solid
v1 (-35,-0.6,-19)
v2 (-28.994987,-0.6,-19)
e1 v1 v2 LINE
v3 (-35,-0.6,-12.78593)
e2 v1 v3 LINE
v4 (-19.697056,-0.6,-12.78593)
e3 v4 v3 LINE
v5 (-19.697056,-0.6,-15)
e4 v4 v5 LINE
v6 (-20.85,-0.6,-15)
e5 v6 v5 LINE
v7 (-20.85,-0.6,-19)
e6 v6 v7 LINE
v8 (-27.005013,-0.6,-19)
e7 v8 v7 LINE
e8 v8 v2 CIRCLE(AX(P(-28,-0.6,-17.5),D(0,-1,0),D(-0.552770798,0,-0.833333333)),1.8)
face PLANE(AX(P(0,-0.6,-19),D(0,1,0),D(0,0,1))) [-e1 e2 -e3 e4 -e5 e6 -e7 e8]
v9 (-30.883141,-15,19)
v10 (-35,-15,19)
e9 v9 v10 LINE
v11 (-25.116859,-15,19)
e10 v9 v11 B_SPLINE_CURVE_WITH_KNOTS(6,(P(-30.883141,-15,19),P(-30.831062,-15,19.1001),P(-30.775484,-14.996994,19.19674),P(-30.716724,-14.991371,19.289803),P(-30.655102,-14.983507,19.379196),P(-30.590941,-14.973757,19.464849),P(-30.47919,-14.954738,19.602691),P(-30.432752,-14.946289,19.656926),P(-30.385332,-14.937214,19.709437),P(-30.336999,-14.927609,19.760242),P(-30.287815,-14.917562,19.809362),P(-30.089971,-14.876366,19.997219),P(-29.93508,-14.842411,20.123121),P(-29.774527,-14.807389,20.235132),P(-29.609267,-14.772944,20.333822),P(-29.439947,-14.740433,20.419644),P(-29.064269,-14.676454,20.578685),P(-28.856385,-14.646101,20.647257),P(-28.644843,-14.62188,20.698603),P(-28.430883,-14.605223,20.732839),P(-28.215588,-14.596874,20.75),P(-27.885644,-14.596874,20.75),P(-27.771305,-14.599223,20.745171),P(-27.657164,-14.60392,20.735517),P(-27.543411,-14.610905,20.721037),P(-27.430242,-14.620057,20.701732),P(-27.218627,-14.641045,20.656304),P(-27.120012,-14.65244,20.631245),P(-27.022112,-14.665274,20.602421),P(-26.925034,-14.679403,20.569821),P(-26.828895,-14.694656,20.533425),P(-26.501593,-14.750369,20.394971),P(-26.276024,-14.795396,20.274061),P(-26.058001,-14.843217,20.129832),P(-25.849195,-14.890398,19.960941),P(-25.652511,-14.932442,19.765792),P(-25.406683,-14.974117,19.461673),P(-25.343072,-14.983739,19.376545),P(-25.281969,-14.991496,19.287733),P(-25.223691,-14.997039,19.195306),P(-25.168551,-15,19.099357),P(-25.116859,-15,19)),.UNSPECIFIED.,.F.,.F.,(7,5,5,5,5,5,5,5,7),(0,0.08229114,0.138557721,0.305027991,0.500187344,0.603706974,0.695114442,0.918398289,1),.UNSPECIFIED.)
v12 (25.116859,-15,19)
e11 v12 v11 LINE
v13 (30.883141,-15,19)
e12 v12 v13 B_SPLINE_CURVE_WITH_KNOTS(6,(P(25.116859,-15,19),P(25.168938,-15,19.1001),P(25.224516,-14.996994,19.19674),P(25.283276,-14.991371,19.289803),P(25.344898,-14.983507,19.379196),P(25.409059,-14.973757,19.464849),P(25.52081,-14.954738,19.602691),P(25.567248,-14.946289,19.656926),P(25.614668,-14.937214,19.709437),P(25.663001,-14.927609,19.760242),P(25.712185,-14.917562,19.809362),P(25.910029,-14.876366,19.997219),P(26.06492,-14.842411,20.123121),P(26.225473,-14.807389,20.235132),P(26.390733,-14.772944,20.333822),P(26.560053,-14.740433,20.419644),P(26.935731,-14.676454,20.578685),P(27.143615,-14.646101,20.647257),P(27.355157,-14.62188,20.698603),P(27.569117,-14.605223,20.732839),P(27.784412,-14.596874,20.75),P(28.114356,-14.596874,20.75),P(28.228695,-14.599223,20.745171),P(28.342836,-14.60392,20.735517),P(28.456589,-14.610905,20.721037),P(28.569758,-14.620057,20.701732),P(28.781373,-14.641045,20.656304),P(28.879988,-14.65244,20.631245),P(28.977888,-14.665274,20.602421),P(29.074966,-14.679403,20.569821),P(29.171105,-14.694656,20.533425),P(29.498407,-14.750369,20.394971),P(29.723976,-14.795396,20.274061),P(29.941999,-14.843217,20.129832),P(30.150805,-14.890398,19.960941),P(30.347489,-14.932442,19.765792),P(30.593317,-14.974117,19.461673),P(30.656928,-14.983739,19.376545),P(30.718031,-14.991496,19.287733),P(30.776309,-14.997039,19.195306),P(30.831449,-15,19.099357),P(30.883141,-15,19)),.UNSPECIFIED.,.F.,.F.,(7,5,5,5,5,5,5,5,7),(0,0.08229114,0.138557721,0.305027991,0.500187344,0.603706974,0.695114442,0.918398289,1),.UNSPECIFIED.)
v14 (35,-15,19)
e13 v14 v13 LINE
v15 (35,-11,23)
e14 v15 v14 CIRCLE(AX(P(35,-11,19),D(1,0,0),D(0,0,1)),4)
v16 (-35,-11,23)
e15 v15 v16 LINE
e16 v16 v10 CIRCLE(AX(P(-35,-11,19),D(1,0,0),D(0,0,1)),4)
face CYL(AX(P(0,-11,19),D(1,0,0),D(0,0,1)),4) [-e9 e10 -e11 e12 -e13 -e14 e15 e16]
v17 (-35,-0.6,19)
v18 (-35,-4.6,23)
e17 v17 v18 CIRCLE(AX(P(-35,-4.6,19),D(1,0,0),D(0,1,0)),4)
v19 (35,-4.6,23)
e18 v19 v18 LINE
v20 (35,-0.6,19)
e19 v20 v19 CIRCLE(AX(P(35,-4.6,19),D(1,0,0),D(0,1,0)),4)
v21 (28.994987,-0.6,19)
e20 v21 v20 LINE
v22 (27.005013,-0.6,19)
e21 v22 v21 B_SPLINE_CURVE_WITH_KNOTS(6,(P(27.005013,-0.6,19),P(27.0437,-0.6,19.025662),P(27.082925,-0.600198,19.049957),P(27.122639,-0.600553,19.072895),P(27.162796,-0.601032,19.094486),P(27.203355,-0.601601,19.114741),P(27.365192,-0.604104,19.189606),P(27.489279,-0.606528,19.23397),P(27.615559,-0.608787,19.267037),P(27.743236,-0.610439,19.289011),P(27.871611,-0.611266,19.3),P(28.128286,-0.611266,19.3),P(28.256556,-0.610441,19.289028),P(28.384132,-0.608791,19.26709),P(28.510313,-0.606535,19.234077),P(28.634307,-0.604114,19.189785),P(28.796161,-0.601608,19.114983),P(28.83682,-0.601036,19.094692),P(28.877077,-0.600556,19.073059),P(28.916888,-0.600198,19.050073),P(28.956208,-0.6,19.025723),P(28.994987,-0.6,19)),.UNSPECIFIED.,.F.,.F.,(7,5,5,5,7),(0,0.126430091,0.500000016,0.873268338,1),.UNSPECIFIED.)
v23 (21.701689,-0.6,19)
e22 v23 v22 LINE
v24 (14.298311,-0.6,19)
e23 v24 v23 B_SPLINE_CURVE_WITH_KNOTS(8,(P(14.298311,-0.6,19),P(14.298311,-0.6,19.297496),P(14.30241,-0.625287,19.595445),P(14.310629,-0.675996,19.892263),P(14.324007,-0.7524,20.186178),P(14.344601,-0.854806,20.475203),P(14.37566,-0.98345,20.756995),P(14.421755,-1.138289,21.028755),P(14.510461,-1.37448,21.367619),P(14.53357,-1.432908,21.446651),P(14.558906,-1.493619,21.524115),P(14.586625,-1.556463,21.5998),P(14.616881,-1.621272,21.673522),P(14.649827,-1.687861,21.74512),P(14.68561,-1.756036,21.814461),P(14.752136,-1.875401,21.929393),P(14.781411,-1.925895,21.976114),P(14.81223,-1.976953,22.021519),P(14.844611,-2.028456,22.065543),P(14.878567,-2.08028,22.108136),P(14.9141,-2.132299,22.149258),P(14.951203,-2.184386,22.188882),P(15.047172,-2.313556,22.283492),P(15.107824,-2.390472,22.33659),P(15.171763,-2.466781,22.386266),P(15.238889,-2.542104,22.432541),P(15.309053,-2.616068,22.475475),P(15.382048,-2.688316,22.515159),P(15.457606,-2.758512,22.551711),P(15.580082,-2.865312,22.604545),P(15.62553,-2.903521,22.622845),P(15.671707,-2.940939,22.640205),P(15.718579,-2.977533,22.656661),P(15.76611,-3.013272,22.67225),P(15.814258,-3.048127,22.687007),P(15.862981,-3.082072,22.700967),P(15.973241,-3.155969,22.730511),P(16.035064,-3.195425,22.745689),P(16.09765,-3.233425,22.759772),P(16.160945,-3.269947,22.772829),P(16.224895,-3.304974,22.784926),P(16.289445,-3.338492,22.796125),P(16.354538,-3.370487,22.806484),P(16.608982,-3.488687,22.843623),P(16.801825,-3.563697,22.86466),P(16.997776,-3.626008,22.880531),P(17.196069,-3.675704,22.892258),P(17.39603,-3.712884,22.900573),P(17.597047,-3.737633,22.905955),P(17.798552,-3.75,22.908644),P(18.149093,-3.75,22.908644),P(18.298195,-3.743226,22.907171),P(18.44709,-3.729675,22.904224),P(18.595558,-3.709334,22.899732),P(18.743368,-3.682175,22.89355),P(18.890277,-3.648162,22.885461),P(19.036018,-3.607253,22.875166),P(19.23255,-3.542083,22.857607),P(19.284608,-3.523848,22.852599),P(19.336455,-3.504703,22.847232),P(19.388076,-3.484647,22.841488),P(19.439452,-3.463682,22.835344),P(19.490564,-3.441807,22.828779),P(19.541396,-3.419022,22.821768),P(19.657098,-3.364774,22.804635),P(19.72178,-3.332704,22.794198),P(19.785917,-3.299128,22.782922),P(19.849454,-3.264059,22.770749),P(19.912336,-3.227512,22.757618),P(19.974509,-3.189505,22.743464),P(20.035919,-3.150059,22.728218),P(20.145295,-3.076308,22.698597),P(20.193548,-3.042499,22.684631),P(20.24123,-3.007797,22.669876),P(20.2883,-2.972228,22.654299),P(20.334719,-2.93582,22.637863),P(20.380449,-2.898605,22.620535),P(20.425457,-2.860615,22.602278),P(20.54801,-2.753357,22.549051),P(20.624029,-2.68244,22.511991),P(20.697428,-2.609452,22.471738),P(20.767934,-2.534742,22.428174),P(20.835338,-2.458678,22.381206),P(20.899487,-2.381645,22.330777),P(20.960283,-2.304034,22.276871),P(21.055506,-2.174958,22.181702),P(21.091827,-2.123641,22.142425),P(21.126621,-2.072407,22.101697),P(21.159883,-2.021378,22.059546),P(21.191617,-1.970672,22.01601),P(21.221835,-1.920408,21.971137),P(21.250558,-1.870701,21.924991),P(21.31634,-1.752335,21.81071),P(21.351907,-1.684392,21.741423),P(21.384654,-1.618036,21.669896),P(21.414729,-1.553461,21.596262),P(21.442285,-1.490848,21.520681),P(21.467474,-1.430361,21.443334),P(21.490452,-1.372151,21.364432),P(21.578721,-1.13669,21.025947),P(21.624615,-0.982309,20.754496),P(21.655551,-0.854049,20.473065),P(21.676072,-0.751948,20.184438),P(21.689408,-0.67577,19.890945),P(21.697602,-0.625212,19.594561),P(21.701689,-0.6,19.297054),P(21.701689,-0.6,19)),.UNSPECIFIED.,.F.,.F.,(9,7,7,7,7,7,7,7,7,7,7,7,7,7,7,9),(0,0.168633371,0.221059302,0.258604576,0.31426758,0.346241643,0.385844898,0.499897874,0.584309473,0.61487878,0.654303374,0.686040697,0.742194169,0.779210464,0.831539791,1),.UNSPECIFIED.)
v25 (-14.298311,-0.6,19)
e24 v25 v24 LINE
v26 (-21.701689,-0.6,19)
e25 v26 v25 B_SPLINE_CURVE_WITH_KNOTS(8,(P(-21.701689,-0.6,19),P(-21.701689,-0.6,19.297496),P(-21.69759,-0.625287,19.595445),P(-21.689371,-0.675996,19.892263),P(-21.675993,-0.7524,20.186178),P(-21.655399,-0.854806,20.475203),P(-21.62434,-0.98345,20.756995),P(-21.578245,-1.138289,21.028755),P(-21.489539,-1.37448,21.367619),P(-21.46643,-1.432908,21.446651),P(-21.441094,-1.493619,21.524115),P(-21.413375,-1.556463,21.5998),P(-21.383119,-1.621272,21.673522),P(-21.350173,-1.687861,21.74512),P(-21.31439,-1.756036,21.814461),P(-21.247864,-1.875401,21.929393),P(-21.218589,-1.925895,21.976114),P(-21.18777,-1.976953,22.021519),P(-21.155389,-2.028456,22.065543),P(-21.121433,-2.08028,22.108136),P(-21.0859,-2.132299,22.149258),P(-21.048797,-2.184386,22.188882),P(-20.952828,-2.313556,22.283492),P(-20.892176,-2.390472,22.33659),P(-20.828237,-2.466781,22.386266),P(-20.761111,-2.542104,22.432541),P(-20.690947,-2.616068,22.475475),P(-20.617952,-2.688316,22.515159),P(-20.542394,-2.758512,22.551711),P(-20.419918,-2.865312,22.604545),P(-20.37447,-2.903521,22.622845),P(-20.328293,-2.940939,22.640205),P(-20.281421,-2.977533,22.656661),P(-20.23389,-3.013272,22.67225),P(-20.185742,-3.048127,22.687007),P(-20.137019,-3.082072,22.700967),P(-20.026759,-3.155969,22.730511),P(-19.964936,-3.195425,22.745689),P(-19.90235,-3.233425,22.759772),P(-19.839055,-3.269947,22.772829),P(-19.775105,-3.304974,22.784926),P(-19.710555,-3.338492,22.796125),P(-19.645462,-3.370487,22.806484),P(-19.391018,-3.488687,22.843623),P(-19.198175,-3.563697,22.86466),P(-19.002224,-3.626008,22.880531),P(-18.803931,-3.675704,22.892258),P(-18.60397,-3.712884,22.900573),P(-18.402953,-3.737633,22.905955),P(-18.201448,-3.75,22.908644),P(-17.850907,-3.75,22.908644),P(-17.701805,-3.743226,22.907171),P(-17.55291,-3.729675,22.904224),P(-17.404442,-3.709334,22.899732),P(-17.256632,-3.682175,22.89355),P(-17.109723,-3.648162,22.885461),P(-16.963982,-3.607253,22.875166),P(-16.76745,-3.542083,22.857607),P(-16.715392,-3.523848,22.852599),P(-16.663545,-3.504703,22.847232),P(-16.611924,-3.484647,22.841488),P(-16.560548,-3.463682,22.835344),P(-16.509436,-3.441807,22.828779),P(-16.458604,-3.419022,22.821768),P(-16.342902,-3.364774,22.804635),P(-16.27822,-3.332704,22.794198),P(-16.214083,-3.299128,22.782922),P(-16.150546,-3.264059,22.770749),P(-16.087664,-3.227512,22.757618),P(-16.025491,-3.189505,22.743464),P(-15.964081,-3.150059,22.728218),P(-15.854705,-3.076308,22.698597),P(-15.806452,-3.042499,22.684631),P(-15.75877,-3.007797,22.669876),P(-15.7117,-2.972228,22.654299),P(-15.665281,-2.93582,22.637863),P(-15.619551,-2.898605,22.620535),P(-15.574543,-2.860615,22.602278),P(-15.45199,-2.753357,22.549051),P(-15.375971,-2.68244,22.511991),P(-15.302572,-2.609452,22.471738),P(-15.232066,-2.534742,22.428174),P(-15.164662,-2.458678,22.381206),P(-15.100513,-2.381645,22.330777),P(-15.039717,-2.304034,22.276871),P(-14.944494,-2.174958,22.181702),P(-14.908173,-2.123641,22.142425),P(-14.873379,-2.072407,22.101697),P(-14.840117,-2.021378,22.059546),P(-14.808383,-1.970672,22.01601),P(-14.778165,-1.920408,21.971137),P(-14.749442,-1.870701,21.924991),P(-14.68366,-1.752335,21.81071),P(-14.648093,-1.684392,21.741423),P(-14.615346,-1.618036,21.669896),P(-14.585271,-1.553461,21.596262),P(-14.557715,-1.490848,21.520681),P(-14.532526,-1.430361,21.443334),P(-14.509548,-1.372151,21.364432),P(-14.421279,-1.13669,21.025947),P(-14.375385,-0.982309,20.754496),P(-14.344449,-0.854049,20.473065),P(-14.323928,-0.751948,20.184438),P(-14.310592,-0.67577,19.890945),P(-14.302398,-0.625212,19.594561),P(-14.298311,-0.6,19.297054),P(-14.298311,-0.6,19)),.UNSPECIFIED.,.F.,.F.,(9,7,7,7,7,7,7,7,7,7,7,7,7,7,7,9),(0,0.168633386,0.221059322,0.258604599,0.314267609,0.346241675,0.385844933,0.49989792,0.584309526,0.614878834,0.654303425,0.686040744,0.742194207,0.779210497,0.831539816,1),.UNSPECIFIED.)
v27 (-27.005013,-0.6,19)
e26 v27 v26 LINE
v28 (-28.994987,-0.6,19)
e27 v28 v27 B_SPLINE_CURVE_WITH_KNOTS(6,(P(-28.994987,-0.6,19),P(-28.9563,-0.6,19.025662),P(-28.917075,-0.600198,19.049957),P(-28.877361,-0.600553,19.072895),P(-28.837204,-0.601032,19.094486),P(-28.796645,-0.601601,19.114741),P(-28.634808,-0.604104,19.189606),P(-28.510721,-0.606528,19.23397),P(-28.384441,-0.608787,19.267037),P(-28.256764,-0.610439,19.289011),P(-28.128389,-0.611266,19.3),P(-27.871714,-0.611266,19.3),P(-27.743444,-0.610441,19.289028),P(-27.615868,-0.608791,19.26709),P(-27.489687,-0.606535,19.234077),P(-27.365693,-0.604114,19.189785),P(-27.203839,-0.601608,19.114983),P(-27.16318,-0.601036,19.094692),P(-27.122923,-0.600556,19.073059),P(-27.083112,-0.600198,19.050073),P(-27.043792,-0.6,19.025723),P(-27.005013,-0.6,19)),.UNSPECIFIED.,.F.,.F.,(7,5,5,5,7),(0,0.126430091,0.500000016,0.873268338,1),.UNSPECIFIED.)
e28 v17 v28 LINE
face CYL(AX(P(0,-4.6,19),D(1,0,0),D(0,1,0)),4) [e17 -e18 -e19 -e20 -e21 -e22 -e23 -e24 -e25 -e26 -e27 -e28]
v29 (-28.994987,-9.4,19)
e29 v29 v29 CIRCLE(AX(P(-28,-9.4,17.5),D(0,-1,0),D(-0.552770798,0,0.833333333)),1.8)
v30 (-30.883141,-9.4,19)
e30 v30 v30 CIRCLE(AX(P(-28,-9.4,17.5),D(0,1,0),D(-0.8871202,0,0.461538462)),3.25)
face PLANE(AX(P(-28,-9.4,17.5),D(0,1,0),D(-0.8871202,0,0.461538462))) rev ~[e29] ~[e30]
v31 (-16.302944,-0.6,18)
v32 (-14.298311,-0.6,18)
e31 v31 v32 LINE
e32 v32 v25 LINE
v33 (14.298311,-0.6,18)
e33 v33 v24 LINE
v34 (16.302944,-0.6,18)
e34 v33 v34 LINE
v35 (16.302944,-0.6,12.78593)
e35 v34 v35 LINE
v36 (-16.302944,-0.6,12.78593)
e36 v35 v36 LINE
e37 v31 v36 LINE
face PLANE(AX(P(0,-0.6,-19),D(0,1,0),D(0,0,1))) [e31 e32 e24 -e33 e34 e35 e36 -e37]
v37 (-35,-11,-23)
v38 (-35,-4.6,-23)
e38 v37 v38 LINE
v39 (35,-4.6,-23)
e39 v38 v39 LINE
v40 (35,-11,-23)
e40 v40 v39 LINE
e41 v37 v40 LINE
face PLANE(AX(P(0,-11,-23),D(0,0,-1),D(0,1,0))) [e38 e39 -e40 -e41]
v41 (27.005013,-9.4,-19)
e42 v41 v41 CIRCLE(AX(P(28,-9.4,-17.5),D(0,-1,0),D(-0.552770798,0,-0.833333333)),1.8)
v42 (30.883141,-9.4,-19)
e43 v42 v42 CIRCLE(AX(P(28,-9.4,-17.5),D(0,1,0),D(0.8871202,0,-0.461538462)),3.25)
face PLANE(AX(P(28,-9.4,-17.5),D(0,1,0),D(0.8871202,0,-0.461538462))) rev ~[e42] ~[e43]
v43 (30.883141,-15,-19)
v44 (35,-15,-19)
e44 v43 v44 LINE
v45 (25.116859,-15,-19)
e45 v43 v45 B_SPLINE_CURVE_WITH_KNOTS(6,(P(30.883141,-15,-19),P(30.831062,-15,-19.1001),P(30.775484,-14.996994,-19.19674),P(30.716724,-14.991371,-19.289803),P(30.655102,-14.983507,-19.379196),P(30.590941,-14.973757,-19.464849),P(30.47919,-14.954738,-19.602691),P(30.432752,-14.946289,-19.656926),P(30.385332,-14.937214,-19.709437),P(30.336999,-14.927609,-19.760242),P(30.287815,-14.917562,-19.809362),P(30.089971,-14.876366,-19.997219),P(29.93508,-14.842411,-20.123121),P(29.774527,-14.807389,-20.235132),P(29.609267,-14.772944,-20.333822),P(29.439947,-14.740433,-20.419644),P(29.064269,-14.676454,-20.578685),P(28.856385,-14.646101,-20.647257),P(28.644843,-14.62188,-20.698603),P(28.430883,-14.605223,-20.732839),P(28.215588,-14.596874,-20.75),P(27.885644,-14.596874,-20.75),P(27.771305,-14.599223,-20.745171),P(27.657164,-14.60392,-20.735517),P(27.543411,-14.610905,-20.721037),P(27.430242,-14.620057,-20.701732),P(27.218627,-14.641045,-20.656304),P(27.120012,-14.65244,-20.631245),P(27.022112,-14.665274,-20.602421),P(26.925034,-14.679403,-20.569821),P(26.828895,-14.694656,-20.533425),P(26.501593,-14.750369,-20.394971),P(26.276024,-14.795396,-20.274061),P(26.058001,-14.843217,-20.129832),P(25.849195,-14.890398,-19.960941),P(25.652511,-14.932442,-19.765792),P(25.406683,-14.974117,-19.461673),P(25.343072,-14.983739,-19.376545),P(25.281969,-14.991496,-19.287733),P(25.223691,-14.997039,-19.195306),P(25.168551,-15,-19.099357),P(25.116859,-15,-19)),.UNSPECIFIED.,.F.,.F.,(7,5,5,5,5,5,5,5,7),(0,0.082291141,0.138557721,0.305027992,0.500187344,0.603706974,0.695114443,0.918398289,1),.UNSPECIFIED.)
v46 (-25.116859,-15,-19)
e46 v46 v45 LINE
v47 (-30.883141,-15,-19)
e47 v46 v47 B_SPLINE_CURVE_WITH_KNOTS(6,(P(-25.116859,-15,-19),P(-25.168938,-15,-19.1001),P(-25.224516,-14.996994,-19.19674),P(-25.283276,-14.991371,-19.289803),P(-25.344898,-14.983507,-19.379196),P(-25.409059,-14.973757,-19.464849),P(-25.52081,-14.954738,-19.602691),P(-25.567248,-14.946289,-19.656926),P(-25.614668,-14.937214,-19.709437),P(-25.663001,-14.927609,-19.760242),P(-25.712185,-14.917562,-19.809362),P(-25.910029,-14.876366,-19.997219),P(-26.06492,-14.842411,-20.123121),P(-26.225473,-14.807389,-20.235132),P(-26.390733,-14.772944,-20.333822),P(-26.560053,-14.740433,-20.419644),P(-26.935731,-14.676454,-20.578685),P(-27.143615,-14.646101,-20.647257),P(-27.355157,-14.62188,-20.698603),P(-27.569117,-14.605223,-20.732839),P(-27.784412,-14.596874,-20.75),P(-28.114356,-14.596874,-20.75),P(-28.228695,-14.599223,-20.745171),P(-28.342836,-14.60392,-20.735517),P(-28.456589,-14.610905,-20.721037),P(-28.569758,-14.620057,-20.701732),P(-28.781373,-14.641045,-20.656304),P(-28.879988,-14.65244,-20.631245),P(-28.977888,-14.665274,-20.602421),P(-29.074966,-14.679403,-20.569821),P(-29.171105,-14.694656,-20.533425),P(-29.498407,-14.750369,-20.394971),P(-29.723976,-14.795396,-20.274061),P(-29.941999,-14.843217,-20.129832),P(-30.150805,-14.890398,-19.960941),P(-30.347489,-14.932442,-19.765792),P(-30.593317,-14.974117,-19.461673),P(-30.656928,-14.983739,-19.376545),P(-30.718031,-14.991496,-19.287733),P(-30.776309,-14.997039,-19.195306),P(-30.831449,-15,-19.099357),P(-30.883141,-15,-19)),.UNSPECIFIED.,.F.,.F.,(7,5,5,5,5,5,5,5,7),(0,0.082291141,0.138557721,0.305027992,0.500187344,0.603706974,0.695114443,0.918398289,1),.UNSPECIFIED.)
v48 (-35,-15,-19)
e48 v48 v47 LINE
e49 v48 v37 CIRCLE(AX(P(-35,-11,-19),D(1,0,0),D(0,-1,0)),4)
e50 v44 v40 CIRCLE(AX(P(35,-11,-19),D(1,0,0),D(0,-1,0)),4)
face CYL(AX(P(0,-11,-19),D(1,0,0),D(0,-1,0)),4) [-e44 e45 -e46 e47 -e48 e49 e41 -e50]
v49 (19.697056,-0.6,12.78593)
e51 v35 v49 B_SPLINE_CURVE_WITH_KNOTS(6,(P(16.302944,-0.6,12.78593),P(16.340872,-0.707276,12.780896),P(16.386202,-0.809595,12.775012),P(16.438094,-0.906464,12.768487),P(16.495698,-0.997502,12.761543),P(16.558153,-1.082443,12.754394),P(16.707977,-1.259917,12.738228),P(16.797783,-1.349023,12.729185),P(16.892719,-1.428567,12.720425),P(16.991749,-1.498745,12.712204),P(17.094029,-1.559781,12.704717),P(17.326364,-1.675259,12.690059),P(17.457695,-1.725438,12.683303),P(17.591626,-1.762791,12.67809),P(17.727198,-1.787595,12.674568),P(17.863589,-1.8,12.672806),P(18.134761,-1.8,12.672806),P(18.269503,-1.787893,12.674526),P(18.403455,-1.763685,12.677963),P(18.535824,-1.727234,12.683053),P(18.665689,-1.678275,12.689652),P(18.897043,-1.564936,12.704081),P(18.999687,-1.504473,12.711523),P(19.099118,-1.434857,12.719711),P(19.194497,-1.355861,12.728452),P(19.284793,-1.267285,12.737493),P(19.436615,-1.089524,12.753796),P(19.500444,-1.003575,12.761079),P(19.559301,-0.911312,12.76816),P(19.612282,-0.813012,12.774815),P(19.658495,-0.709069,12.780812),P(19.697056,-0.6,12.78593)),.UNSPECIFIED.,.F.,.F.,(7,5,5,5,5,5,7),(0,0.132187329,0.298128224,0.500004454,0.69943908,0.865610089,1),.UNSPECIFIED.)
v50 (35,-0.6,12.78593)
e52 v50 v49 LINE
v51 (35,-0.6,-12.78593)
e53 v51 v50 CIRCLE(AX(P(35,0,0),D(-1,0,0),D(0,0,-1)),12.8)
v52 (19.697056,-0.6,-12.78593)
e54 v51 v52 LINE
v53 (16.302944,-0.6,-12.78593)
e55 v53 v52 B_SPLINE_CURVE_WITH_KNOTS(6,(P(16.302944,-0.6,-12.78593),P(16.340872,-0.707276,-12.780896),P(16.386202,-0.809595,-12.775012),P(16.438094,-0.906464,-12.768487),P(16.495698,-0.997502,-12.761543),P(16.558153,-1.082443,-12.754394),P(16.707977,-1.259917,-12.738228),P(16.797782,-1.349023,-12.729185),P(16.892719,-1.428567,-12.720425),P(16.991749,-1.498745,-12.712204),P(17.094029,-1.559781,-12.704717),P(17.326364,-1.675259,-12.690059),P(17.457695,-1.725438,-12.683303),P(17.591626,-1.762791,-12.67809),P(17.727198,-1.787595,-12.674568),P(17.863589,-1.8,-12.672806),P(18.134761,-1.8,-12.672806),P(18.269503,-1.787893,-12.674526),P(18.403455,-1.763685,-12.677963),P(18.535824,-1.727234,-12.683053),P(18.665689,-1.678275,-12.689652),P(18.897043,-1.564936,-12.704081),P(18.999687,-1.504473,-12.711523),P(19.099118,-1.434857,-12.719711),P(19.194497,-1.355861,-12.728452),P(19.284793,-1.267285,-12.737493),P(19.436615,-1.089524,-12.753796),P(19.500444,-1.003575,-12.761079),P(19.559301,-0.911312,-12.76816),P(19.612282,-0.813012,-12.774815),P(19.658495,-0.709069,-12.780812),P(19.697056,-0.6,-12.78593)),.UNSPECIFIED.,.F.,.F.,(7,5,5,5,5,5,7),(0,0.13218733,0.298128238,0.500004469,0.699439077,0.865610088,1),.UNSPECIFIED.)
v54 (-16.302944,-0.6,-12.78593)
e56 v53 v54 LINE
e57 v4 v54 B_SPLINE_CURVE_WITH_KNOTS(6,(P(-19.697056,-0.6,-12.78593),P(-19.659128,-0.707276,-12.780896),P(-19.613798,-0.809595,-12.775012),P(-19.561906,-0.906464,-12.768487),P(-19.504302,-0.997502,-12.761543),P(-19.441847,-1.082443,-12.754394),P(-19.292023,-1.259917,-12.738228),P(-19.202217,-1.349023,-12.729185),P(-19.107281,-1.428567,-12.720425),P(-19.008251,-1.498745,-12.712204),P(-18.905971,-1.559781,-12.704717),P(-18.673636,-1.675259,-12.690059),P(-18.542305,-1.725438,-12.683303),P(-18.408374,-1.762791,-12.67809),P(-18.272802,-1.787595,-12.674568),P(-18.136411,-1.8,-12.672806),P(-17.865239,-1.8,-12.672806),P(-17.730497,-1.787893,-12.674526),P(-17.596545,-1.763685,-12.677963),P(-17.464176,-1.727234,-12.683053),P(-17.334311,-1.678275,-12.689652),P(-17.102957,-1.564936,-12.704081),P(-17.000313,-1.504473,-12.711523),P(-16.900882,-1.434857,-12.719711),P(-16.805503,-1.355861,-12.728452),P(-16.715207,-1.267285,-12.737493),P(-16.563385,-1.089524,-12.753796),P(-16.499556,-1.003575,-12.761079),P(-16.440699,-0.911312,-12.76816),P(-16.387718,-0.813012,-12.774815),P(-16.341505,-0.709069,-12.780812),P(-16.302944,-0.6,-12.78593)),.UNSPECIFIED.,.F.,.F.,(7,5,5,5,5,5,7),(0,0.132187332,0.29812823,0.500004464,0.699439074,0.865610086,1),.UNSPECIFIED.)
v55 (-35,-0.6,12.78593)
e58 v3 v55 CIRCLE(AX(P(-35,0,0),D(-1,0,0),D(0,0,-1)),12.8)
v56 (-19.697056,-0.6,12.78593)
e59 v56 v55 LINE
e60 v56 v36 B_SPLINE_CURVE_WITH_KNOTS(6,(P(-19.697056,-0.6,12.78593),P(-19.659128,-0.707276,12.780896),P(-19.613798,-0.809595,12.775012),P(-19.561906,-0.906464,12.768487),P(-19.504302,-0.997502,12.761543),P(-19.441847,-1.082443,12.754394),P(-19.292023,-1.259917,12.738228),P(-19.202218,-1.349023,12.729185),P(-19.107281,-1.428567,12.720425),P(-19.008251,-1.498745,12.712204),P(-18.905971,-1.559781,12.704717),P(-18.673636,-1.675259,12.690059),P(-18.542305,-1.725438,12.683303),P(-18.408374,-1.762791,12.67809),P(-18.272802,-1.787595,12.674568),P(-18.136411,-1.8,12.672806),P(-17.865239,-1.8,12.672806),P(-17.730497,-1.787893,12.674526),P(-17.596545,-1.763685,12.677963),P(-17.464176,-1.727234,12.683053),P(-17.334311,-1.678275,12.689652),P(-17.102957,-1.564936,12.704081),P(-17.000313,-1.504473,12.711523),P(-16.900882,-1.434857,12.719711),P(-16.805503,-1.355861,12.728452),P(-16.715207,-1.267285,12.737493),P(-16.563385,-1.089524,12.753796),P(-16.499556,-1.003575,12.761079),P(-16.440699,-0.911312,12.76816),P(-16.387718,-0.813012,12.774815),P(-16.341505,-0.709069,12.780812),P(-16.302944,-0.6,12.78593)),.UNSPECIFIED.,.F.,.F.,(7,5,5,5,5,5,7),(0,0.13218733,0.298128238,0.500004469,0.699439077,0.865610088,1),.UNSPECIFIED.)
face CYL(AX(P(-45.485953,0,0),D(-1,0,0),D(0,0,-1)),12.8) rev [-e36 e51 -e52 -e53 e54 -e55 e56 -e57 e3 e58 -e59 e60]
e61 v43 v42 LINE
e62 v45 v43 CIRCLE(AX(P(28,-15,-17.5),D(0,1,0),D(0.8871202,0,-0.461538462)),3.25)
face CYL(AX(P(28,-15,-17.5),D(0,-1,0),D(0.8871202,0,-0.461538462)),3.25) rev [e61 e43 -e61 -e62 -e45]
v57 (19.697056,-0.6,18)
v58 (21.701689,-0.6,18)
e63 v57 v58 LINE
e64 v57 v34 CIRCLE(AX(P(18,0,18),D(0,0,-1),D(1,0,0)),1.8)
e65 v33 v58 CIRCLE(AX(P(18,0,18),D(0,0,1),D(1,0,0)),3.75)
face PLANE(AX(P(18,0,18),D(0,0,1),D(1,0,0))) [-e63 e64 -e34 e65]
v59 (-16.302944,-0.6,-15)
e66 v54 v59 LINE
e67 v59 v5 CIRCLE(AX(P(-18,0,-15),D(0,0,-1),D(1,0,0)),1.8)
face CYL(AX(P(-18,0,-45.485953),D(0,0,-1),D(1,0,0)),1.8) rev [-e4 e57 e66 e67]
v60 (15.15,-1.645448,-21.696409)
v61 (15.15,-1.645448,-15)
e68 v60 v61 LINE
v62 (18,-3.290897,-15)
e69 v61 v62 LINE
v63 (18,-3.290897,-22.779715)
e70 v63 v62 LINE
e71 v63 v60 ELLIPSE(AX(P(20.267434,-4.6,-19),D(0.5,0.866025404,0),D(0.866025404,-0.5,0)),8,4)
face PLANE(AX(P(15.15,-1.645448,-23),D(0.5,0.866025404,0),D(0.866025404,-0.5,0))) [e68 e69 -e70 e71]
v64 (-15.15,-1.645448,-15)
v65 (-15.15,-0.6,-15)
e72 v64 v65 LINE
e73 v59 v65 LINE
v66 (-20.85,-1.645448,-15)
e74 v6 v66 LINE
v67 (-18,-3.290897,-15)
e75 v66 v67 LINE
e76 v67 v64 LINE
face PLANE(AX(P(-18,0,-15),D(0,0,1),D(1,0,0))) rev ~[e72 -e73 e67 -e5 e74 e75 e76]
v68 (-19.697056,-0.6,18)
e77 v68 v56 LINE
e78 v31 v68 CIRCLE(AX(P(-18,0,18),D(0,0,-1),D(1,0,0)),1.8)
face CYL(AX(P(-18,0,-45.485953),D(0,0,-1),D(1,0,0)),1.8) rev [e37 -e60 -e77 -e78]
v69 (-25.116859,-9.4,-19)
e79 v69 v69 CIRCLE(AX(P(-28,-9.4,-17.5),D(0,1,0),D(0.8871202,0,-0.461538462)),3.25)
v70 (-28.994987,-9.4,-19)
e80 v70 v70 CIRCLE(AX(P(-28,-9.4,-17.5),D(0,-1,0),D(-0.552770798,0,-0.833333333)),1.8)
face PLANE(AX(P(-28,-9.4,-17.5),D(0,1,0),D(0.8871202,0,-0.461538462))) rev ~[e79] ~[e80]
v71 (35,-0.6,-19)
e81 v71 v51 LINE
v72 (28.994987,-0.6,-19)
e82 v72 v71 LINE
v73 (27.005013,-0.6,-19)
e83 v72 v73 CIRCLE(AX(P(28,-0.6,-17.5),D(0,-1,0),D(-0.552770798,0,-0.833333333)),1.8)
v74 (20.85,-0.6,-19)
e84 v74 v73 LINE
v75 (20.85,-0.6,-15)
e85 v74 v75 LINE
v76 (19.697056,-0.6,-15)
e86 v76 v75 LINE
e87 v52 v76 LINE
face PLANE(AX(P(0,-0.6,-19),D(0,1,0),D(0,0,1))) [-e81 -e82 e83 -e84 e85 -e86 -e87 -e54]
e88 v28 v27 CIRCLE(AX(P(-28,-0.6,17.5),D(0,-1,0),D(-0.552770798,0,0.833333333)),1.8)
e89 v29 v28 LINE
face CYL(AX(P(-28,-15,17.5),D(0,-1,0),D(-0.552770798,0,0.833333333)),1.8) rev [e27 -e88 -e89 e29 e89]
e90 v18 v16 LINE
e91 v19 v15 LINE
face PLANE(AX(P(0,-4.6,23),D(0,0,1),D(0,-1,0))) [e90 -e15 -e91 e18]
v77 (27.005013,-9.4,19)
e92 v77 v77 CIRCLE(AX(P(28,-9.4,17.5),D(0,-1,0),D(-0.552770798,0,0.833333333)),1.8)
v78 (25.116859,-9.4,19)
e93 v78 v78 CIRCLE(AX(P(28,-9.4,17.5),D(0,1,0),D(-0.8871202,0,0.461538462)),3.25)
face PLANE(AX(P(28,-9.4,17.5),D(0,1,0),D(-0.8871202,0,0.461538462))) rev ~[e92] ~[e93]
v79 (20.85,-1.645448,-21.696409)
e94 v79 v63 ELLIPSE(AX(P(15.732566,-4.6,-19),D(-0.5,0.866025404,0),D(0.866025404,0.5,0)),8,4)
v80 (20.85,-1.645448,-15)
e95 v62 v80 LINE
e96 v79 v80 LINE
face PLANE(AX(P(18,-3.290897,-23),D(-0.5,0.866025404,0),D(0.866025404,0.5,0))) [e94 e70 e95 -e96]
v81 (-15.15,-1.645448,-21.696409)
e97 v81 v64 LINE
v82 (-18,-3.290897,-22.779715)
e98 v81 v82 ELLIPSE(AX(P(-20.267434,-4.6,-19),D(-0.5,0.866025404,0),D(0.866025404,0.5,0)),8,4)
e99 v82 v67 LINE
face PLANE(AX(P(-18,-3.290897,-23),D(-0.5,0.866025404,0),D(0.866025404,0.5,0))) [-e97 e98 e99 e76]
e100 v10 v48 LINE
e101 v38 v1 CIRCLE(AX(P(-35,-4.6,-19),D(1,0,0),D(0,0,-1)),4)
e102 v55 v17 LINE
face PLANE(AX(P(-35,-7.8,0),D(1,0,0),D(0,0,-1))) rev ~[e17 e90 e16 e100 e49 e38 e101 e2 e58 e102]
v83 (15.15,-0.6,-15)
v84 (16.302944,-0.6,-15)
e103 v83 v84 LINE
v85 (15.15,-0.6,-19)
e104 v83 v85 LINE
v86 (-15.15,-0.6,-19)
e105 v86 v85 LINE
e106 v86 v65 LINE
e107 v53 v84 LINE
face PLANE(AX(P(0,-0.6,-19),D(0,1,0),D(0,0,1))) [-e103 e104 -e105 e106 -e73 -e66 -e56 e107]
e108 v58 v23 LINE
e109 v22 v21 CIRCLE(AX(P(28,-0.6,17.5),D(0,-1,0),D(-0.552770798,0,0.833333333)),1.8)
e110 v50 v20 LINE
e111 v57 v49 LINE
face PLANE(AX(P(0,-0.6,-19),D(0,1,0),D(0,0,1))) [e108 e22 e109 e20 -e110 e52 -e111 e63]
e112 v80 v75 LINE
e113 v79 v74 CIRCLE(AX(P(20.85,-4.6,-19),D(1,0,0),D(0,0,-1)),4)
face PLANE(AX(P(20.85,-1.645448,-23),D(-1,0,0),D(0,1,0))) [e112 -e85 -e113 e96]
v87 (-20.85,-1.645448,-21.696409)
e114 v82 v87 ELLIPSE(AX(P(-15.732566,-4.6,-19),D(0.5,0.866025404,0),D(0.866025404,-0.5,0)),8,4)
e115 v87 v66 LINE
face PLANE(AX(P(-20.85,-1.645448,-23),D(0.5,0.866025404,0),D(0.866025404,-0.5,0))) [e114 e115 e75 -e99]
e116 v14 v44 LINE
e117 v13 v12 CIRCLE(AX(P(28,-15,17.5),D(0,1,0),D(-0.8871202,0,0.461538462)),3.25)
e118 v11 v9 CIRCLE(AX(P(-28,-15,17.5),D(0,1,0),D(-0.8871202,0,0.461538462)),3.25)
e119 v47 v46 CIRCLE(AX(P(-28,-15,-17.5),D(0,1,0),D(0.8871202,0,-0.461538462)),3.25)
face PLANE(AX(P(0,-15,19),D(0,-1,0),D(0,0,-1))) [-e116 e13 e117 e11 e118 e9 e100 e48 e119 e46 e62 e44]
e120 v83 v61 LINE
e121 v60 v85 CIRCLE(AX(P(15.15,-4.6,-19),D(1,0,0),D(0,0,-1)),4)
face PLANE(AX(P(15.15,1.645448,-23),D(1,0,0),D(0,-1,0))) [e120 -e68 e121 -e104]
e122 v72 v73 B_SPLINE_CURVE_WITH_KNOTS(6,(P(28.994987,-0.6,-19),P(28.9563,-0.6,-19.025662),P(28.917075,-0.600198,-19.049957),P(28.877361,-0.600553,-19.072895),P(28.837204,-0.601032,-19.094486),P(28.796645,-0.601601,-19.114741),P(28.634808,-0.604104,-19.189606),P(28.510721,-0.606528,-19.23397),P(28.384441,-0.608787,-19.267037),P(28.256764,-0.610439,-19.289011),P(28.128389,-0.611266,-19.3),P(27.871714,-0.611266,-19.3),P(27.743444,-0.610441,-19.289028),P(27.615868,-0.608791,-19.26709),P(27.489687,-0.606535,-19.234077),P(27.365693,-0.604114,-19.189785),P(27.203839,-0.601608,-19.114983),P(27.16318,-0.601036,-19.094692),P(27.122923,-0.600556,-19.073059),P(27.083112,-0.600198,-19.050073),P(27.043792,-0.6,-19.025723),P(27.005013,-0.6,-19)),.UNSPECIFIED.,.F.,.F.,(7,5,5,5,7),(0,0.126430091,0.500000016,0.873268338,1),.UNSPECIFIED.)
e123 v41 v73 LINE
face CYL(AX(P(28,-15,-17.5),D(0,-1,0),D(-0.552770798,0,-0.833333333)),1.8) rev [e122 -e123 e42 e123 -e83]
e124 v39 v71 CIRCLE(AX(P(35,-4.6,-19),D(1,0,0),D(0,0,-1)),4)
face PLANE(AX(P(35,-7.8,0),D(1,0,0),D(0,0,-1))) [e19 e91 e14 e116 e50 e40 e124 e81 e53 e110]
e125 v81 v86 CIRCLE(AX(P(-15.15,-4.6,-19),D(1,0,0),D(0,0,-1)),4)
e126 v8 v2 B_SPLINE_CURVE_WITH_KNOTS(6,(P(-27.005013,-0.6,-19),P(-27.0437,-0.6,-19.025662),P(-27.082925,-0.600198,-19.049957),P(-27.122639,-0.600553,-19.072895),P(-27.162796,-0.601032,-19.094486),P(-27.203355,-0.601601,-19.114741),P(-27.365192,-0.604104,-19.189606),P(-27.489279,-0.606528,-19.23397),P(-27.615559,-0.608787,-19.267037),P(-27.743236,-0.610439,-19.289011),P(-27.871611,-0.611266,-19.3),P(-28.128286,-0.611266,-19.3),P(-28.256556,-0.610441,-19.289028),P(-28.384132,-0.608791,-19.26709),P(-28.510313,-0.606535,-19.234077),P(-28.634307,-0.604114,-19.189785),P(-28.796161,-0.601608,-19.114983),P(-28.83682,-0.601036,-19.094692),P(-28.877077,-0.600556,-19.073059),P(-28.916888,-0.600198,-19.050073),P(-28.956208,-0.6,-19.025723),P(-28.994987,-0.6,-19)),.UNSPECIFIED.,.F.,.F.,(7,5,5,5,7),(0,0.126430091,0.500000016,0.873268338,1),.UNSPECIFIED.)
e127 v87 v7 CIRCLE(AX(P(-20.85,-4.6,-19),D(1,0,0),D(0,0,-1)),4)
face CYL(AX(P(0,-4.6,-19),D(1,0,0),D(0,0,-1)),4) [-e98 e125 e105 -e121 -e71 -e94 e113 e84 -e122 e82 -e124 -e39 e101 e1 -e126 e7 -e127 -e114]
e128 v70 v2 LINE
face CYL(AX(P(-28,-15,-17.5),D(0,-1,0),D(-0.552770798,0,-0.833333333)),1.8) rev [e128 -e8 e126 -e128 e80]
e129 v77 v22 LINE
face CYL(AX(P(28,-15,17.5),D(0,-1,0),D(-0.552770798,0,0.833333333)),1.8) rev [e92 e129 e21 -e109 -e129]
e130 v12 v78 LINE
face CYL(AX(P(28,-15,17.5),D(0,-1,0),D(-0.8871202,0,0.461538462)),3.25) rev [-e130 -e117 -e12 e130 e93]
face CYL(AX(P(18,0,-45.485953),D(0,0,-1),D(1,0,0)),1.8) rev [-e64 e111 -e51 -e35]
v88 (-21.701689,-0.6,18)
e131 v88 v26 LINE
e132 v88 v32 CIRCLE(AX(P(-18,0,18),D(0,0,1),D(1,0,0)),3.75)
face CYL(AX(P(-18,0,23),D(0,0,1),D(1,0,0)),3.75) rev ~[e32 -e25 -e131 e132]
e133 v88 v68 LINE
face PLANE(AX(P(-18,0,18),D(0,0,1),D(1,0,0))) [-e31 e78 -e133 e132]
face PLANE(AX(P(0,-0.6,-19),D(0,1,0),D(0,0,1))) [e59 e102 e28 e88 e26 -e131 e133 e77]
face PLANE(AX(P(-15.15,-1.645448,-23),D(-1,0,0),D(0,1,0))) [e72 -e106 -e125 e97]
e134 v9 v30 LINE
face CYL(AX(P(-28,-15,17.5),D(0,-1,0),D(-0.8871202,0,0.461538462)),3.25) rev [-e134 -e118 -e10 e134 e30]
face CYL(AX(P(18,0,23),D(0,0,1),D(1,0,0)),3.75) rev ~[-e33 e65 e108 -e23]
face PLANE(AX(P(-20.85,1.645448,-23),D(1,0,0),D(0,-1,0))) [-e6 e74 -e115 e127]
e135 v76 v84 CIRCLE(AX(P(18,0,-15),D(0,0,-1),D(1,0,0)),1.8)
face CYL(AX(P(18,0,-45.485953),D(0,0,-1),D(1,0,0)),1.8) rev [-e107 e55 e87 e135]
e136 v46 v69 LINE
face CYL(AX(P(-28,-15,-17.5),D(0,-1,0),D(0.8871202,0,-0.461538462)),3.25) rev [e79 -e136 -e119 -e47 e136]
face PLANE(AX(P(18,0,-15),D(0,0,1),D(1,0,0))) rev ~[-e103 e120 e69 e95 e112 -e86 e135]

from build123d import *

# Parameters (mm, degrees)
BOSS_EXTRUDE1_DEPTH     = 35
CUT_EXTRUDE1_DEPTH      = 45.485952839
CUT_EXTRUDE1_DEPTH_BACK = 45.485952839
SKETCH2_R               = 12.8
SKETCH3_R               = 1.8
CUT_EXTRUDE2_DEPTH      = 16
SKETCH4_R               = 3.25
CUT_EXTRUDE3_DEPTH      = 5.6
CUT_EXTRUDE4_DEPTH      = 45.485953003
CUT_EXTRUDE4_DEPTH_BACK = 45.485953003
SKETCH5_R               = 1.8
SKETCH6_R               = 3.75
CUT_EXTRUDE5_DEPTH      = 5
CUT_EXTRUDE6_DEPTH      = 8


with BuildPart() as part:
    # Sketch1 → Boss-Extrude1 (new, symmetric)
    with BuildSketch(Plane(origin=(0, 0, 0), x_dir=(0, 0, -1), z_dir=(1, 0, 0))):
        with BuildLine():
            Line((-19, -15), (19, -15))
            ThreePointArc((19, -15), (21.828427125, -13.828427125), (23, -11))
            Line((23, -11), (23, -4.6))
            ThreePointArc((23, -4.6), (21.828427125, -1.771572875), (19, -0.6))
            Line((19, -0.6), (-19, -0.6))
            ThreePointArc((-19, -0.6), (-21.828427125, -1.771572875), (-23, -4.6))
            Line((-23, -4.6), (-23, -11))
            ThreePointArc((-23, -11), (-21.828427125, -13.828427125), (-19, -15))
        make_face()
    extrude(amount=BOSS_EXTRUDE1_DEPTH, both=True)

    # Sketch2 → Cut-Extrude1 (cut, two sides: drawn at the far end of the back side and taken through both)
    with BuildSketch(Plane(origin=(0, 0, 0), x_dir=(0, 0, -1), z_dir=(1, 0, 0)).offset(-CUT_EXTRUDE1_DEPTH_BACK)):
        Circle(SKETCH2_R)
    extrude(amount=CUT_EXTRUDE1_DEPTH + CUT_EXTRUDE1_DEPTH_BACK, mode=Mode.SUBTRACT)

    # Sketch3 → Cut-Extrude2 (cut)
    with BuildSketch(Plane(origin=(0, -15, 0), x_dir=(1, 0, 0), z_dir=(0, 1, 0))):
        with Locations(Location((28, -17.5, 0), (0, 0, 236.442690238))):
            Circle(SKETCH3_R)
        with Locations(Location((28, 17.5, 0), (0, 0, 123.557309762))):
            Circle(SKETCH3_R)
        with Locations(Location((-28, -17.5, 0), (0, 0, 236.442690238))):
            Circle(SKETCH3_R)
        with Locations(Location((-28, 17.5, 0), (0, 0, 123.557309762))):
            Circle(SKETCH3_R)
    extrude(amount=CUT_EXTRUDE2_DEPTH, mode=Mode.SUBTRACT)

    # Sketch4 → Cut-Extrude3 (cut)
    with BuildSketch(Plane(origin=(0, -15, 0), x_dir=(1, 0, 0), z_dir=(0, 1, 0))):
        with Locations(Location((28, -17.5, 0), (0, 0, 207.48642625))):
            Circle(SKETCH4_R)
        with Locations(Location((28, 17.5, 0), (0, 0, 27.48642625))):
            Circle(SKETCH4_R)
        with Locations(Location((-28, -17.5, 0), (0, 0, 207.48642625))):
            Circle(SKETCH4_R)
        with Locations(Location((-28, 17.5, 0), (0, 0, 27.48642625))):
            Circle(SKETCH4_R)
    extrude(amount=CUT_EXTRUDE3_DEPTH, mode=Mode.SUBTRACT)

    # Sketch5 → Cut-Extrude4 (cut, two sides: drawn at the far end of the back side and taken through both)
    with BuildSketch(Plane.XY.offset(-CUT_EXTRUDE4_DEPTH_BACK)):
        with Locations((18, 0)):
            Circle(SKETCH5_R)
        with Locations((-18, 0)):
            Circle(SKETCH5_R)
    extrude(amount=CUT_EXTRUDE4_DEPTH + CUT_EXTRUDE4_DEPTH_BACK, mode=Mode.SUBTRACT)

    # Sketch6 → Cut-Extrude5 (cut)
    with BuildSketch(Plane.XY.offset(23)):
        with Locations((18, 0)):
            Circle(SKETCH6_R)
        with Locations((-18, 0)):
            Circle(SKETCH6_R)
    extrude(amount=-CUT_EXTRUDE5_DEPTH, mode=Mode.SUBTRACT)

    # Sketch7 → Cut-Extrude6 (cut)
    with BuildSketch(Plane.XY.offset(-23)):
        Polygon((20.85, 1.645448267), (18, 3.290896534), (15.15, 1.645448267), (15.15, -1.645448267), (18, -3.290896534), (20.85, -1.645448267), align=None)
        Polygon((-15.15, 1.645448267), (-18, 3.290896534), (-20.85, 1.645448267), (-20.85, -1.645448267), (-18, -3.290896534), (-15.15, -1.645448267), align=None)
    extrude(amount=CUT_EXTRUDE6_DEPTH, mode=Mode.SUBTRACT)


solid = part.part
